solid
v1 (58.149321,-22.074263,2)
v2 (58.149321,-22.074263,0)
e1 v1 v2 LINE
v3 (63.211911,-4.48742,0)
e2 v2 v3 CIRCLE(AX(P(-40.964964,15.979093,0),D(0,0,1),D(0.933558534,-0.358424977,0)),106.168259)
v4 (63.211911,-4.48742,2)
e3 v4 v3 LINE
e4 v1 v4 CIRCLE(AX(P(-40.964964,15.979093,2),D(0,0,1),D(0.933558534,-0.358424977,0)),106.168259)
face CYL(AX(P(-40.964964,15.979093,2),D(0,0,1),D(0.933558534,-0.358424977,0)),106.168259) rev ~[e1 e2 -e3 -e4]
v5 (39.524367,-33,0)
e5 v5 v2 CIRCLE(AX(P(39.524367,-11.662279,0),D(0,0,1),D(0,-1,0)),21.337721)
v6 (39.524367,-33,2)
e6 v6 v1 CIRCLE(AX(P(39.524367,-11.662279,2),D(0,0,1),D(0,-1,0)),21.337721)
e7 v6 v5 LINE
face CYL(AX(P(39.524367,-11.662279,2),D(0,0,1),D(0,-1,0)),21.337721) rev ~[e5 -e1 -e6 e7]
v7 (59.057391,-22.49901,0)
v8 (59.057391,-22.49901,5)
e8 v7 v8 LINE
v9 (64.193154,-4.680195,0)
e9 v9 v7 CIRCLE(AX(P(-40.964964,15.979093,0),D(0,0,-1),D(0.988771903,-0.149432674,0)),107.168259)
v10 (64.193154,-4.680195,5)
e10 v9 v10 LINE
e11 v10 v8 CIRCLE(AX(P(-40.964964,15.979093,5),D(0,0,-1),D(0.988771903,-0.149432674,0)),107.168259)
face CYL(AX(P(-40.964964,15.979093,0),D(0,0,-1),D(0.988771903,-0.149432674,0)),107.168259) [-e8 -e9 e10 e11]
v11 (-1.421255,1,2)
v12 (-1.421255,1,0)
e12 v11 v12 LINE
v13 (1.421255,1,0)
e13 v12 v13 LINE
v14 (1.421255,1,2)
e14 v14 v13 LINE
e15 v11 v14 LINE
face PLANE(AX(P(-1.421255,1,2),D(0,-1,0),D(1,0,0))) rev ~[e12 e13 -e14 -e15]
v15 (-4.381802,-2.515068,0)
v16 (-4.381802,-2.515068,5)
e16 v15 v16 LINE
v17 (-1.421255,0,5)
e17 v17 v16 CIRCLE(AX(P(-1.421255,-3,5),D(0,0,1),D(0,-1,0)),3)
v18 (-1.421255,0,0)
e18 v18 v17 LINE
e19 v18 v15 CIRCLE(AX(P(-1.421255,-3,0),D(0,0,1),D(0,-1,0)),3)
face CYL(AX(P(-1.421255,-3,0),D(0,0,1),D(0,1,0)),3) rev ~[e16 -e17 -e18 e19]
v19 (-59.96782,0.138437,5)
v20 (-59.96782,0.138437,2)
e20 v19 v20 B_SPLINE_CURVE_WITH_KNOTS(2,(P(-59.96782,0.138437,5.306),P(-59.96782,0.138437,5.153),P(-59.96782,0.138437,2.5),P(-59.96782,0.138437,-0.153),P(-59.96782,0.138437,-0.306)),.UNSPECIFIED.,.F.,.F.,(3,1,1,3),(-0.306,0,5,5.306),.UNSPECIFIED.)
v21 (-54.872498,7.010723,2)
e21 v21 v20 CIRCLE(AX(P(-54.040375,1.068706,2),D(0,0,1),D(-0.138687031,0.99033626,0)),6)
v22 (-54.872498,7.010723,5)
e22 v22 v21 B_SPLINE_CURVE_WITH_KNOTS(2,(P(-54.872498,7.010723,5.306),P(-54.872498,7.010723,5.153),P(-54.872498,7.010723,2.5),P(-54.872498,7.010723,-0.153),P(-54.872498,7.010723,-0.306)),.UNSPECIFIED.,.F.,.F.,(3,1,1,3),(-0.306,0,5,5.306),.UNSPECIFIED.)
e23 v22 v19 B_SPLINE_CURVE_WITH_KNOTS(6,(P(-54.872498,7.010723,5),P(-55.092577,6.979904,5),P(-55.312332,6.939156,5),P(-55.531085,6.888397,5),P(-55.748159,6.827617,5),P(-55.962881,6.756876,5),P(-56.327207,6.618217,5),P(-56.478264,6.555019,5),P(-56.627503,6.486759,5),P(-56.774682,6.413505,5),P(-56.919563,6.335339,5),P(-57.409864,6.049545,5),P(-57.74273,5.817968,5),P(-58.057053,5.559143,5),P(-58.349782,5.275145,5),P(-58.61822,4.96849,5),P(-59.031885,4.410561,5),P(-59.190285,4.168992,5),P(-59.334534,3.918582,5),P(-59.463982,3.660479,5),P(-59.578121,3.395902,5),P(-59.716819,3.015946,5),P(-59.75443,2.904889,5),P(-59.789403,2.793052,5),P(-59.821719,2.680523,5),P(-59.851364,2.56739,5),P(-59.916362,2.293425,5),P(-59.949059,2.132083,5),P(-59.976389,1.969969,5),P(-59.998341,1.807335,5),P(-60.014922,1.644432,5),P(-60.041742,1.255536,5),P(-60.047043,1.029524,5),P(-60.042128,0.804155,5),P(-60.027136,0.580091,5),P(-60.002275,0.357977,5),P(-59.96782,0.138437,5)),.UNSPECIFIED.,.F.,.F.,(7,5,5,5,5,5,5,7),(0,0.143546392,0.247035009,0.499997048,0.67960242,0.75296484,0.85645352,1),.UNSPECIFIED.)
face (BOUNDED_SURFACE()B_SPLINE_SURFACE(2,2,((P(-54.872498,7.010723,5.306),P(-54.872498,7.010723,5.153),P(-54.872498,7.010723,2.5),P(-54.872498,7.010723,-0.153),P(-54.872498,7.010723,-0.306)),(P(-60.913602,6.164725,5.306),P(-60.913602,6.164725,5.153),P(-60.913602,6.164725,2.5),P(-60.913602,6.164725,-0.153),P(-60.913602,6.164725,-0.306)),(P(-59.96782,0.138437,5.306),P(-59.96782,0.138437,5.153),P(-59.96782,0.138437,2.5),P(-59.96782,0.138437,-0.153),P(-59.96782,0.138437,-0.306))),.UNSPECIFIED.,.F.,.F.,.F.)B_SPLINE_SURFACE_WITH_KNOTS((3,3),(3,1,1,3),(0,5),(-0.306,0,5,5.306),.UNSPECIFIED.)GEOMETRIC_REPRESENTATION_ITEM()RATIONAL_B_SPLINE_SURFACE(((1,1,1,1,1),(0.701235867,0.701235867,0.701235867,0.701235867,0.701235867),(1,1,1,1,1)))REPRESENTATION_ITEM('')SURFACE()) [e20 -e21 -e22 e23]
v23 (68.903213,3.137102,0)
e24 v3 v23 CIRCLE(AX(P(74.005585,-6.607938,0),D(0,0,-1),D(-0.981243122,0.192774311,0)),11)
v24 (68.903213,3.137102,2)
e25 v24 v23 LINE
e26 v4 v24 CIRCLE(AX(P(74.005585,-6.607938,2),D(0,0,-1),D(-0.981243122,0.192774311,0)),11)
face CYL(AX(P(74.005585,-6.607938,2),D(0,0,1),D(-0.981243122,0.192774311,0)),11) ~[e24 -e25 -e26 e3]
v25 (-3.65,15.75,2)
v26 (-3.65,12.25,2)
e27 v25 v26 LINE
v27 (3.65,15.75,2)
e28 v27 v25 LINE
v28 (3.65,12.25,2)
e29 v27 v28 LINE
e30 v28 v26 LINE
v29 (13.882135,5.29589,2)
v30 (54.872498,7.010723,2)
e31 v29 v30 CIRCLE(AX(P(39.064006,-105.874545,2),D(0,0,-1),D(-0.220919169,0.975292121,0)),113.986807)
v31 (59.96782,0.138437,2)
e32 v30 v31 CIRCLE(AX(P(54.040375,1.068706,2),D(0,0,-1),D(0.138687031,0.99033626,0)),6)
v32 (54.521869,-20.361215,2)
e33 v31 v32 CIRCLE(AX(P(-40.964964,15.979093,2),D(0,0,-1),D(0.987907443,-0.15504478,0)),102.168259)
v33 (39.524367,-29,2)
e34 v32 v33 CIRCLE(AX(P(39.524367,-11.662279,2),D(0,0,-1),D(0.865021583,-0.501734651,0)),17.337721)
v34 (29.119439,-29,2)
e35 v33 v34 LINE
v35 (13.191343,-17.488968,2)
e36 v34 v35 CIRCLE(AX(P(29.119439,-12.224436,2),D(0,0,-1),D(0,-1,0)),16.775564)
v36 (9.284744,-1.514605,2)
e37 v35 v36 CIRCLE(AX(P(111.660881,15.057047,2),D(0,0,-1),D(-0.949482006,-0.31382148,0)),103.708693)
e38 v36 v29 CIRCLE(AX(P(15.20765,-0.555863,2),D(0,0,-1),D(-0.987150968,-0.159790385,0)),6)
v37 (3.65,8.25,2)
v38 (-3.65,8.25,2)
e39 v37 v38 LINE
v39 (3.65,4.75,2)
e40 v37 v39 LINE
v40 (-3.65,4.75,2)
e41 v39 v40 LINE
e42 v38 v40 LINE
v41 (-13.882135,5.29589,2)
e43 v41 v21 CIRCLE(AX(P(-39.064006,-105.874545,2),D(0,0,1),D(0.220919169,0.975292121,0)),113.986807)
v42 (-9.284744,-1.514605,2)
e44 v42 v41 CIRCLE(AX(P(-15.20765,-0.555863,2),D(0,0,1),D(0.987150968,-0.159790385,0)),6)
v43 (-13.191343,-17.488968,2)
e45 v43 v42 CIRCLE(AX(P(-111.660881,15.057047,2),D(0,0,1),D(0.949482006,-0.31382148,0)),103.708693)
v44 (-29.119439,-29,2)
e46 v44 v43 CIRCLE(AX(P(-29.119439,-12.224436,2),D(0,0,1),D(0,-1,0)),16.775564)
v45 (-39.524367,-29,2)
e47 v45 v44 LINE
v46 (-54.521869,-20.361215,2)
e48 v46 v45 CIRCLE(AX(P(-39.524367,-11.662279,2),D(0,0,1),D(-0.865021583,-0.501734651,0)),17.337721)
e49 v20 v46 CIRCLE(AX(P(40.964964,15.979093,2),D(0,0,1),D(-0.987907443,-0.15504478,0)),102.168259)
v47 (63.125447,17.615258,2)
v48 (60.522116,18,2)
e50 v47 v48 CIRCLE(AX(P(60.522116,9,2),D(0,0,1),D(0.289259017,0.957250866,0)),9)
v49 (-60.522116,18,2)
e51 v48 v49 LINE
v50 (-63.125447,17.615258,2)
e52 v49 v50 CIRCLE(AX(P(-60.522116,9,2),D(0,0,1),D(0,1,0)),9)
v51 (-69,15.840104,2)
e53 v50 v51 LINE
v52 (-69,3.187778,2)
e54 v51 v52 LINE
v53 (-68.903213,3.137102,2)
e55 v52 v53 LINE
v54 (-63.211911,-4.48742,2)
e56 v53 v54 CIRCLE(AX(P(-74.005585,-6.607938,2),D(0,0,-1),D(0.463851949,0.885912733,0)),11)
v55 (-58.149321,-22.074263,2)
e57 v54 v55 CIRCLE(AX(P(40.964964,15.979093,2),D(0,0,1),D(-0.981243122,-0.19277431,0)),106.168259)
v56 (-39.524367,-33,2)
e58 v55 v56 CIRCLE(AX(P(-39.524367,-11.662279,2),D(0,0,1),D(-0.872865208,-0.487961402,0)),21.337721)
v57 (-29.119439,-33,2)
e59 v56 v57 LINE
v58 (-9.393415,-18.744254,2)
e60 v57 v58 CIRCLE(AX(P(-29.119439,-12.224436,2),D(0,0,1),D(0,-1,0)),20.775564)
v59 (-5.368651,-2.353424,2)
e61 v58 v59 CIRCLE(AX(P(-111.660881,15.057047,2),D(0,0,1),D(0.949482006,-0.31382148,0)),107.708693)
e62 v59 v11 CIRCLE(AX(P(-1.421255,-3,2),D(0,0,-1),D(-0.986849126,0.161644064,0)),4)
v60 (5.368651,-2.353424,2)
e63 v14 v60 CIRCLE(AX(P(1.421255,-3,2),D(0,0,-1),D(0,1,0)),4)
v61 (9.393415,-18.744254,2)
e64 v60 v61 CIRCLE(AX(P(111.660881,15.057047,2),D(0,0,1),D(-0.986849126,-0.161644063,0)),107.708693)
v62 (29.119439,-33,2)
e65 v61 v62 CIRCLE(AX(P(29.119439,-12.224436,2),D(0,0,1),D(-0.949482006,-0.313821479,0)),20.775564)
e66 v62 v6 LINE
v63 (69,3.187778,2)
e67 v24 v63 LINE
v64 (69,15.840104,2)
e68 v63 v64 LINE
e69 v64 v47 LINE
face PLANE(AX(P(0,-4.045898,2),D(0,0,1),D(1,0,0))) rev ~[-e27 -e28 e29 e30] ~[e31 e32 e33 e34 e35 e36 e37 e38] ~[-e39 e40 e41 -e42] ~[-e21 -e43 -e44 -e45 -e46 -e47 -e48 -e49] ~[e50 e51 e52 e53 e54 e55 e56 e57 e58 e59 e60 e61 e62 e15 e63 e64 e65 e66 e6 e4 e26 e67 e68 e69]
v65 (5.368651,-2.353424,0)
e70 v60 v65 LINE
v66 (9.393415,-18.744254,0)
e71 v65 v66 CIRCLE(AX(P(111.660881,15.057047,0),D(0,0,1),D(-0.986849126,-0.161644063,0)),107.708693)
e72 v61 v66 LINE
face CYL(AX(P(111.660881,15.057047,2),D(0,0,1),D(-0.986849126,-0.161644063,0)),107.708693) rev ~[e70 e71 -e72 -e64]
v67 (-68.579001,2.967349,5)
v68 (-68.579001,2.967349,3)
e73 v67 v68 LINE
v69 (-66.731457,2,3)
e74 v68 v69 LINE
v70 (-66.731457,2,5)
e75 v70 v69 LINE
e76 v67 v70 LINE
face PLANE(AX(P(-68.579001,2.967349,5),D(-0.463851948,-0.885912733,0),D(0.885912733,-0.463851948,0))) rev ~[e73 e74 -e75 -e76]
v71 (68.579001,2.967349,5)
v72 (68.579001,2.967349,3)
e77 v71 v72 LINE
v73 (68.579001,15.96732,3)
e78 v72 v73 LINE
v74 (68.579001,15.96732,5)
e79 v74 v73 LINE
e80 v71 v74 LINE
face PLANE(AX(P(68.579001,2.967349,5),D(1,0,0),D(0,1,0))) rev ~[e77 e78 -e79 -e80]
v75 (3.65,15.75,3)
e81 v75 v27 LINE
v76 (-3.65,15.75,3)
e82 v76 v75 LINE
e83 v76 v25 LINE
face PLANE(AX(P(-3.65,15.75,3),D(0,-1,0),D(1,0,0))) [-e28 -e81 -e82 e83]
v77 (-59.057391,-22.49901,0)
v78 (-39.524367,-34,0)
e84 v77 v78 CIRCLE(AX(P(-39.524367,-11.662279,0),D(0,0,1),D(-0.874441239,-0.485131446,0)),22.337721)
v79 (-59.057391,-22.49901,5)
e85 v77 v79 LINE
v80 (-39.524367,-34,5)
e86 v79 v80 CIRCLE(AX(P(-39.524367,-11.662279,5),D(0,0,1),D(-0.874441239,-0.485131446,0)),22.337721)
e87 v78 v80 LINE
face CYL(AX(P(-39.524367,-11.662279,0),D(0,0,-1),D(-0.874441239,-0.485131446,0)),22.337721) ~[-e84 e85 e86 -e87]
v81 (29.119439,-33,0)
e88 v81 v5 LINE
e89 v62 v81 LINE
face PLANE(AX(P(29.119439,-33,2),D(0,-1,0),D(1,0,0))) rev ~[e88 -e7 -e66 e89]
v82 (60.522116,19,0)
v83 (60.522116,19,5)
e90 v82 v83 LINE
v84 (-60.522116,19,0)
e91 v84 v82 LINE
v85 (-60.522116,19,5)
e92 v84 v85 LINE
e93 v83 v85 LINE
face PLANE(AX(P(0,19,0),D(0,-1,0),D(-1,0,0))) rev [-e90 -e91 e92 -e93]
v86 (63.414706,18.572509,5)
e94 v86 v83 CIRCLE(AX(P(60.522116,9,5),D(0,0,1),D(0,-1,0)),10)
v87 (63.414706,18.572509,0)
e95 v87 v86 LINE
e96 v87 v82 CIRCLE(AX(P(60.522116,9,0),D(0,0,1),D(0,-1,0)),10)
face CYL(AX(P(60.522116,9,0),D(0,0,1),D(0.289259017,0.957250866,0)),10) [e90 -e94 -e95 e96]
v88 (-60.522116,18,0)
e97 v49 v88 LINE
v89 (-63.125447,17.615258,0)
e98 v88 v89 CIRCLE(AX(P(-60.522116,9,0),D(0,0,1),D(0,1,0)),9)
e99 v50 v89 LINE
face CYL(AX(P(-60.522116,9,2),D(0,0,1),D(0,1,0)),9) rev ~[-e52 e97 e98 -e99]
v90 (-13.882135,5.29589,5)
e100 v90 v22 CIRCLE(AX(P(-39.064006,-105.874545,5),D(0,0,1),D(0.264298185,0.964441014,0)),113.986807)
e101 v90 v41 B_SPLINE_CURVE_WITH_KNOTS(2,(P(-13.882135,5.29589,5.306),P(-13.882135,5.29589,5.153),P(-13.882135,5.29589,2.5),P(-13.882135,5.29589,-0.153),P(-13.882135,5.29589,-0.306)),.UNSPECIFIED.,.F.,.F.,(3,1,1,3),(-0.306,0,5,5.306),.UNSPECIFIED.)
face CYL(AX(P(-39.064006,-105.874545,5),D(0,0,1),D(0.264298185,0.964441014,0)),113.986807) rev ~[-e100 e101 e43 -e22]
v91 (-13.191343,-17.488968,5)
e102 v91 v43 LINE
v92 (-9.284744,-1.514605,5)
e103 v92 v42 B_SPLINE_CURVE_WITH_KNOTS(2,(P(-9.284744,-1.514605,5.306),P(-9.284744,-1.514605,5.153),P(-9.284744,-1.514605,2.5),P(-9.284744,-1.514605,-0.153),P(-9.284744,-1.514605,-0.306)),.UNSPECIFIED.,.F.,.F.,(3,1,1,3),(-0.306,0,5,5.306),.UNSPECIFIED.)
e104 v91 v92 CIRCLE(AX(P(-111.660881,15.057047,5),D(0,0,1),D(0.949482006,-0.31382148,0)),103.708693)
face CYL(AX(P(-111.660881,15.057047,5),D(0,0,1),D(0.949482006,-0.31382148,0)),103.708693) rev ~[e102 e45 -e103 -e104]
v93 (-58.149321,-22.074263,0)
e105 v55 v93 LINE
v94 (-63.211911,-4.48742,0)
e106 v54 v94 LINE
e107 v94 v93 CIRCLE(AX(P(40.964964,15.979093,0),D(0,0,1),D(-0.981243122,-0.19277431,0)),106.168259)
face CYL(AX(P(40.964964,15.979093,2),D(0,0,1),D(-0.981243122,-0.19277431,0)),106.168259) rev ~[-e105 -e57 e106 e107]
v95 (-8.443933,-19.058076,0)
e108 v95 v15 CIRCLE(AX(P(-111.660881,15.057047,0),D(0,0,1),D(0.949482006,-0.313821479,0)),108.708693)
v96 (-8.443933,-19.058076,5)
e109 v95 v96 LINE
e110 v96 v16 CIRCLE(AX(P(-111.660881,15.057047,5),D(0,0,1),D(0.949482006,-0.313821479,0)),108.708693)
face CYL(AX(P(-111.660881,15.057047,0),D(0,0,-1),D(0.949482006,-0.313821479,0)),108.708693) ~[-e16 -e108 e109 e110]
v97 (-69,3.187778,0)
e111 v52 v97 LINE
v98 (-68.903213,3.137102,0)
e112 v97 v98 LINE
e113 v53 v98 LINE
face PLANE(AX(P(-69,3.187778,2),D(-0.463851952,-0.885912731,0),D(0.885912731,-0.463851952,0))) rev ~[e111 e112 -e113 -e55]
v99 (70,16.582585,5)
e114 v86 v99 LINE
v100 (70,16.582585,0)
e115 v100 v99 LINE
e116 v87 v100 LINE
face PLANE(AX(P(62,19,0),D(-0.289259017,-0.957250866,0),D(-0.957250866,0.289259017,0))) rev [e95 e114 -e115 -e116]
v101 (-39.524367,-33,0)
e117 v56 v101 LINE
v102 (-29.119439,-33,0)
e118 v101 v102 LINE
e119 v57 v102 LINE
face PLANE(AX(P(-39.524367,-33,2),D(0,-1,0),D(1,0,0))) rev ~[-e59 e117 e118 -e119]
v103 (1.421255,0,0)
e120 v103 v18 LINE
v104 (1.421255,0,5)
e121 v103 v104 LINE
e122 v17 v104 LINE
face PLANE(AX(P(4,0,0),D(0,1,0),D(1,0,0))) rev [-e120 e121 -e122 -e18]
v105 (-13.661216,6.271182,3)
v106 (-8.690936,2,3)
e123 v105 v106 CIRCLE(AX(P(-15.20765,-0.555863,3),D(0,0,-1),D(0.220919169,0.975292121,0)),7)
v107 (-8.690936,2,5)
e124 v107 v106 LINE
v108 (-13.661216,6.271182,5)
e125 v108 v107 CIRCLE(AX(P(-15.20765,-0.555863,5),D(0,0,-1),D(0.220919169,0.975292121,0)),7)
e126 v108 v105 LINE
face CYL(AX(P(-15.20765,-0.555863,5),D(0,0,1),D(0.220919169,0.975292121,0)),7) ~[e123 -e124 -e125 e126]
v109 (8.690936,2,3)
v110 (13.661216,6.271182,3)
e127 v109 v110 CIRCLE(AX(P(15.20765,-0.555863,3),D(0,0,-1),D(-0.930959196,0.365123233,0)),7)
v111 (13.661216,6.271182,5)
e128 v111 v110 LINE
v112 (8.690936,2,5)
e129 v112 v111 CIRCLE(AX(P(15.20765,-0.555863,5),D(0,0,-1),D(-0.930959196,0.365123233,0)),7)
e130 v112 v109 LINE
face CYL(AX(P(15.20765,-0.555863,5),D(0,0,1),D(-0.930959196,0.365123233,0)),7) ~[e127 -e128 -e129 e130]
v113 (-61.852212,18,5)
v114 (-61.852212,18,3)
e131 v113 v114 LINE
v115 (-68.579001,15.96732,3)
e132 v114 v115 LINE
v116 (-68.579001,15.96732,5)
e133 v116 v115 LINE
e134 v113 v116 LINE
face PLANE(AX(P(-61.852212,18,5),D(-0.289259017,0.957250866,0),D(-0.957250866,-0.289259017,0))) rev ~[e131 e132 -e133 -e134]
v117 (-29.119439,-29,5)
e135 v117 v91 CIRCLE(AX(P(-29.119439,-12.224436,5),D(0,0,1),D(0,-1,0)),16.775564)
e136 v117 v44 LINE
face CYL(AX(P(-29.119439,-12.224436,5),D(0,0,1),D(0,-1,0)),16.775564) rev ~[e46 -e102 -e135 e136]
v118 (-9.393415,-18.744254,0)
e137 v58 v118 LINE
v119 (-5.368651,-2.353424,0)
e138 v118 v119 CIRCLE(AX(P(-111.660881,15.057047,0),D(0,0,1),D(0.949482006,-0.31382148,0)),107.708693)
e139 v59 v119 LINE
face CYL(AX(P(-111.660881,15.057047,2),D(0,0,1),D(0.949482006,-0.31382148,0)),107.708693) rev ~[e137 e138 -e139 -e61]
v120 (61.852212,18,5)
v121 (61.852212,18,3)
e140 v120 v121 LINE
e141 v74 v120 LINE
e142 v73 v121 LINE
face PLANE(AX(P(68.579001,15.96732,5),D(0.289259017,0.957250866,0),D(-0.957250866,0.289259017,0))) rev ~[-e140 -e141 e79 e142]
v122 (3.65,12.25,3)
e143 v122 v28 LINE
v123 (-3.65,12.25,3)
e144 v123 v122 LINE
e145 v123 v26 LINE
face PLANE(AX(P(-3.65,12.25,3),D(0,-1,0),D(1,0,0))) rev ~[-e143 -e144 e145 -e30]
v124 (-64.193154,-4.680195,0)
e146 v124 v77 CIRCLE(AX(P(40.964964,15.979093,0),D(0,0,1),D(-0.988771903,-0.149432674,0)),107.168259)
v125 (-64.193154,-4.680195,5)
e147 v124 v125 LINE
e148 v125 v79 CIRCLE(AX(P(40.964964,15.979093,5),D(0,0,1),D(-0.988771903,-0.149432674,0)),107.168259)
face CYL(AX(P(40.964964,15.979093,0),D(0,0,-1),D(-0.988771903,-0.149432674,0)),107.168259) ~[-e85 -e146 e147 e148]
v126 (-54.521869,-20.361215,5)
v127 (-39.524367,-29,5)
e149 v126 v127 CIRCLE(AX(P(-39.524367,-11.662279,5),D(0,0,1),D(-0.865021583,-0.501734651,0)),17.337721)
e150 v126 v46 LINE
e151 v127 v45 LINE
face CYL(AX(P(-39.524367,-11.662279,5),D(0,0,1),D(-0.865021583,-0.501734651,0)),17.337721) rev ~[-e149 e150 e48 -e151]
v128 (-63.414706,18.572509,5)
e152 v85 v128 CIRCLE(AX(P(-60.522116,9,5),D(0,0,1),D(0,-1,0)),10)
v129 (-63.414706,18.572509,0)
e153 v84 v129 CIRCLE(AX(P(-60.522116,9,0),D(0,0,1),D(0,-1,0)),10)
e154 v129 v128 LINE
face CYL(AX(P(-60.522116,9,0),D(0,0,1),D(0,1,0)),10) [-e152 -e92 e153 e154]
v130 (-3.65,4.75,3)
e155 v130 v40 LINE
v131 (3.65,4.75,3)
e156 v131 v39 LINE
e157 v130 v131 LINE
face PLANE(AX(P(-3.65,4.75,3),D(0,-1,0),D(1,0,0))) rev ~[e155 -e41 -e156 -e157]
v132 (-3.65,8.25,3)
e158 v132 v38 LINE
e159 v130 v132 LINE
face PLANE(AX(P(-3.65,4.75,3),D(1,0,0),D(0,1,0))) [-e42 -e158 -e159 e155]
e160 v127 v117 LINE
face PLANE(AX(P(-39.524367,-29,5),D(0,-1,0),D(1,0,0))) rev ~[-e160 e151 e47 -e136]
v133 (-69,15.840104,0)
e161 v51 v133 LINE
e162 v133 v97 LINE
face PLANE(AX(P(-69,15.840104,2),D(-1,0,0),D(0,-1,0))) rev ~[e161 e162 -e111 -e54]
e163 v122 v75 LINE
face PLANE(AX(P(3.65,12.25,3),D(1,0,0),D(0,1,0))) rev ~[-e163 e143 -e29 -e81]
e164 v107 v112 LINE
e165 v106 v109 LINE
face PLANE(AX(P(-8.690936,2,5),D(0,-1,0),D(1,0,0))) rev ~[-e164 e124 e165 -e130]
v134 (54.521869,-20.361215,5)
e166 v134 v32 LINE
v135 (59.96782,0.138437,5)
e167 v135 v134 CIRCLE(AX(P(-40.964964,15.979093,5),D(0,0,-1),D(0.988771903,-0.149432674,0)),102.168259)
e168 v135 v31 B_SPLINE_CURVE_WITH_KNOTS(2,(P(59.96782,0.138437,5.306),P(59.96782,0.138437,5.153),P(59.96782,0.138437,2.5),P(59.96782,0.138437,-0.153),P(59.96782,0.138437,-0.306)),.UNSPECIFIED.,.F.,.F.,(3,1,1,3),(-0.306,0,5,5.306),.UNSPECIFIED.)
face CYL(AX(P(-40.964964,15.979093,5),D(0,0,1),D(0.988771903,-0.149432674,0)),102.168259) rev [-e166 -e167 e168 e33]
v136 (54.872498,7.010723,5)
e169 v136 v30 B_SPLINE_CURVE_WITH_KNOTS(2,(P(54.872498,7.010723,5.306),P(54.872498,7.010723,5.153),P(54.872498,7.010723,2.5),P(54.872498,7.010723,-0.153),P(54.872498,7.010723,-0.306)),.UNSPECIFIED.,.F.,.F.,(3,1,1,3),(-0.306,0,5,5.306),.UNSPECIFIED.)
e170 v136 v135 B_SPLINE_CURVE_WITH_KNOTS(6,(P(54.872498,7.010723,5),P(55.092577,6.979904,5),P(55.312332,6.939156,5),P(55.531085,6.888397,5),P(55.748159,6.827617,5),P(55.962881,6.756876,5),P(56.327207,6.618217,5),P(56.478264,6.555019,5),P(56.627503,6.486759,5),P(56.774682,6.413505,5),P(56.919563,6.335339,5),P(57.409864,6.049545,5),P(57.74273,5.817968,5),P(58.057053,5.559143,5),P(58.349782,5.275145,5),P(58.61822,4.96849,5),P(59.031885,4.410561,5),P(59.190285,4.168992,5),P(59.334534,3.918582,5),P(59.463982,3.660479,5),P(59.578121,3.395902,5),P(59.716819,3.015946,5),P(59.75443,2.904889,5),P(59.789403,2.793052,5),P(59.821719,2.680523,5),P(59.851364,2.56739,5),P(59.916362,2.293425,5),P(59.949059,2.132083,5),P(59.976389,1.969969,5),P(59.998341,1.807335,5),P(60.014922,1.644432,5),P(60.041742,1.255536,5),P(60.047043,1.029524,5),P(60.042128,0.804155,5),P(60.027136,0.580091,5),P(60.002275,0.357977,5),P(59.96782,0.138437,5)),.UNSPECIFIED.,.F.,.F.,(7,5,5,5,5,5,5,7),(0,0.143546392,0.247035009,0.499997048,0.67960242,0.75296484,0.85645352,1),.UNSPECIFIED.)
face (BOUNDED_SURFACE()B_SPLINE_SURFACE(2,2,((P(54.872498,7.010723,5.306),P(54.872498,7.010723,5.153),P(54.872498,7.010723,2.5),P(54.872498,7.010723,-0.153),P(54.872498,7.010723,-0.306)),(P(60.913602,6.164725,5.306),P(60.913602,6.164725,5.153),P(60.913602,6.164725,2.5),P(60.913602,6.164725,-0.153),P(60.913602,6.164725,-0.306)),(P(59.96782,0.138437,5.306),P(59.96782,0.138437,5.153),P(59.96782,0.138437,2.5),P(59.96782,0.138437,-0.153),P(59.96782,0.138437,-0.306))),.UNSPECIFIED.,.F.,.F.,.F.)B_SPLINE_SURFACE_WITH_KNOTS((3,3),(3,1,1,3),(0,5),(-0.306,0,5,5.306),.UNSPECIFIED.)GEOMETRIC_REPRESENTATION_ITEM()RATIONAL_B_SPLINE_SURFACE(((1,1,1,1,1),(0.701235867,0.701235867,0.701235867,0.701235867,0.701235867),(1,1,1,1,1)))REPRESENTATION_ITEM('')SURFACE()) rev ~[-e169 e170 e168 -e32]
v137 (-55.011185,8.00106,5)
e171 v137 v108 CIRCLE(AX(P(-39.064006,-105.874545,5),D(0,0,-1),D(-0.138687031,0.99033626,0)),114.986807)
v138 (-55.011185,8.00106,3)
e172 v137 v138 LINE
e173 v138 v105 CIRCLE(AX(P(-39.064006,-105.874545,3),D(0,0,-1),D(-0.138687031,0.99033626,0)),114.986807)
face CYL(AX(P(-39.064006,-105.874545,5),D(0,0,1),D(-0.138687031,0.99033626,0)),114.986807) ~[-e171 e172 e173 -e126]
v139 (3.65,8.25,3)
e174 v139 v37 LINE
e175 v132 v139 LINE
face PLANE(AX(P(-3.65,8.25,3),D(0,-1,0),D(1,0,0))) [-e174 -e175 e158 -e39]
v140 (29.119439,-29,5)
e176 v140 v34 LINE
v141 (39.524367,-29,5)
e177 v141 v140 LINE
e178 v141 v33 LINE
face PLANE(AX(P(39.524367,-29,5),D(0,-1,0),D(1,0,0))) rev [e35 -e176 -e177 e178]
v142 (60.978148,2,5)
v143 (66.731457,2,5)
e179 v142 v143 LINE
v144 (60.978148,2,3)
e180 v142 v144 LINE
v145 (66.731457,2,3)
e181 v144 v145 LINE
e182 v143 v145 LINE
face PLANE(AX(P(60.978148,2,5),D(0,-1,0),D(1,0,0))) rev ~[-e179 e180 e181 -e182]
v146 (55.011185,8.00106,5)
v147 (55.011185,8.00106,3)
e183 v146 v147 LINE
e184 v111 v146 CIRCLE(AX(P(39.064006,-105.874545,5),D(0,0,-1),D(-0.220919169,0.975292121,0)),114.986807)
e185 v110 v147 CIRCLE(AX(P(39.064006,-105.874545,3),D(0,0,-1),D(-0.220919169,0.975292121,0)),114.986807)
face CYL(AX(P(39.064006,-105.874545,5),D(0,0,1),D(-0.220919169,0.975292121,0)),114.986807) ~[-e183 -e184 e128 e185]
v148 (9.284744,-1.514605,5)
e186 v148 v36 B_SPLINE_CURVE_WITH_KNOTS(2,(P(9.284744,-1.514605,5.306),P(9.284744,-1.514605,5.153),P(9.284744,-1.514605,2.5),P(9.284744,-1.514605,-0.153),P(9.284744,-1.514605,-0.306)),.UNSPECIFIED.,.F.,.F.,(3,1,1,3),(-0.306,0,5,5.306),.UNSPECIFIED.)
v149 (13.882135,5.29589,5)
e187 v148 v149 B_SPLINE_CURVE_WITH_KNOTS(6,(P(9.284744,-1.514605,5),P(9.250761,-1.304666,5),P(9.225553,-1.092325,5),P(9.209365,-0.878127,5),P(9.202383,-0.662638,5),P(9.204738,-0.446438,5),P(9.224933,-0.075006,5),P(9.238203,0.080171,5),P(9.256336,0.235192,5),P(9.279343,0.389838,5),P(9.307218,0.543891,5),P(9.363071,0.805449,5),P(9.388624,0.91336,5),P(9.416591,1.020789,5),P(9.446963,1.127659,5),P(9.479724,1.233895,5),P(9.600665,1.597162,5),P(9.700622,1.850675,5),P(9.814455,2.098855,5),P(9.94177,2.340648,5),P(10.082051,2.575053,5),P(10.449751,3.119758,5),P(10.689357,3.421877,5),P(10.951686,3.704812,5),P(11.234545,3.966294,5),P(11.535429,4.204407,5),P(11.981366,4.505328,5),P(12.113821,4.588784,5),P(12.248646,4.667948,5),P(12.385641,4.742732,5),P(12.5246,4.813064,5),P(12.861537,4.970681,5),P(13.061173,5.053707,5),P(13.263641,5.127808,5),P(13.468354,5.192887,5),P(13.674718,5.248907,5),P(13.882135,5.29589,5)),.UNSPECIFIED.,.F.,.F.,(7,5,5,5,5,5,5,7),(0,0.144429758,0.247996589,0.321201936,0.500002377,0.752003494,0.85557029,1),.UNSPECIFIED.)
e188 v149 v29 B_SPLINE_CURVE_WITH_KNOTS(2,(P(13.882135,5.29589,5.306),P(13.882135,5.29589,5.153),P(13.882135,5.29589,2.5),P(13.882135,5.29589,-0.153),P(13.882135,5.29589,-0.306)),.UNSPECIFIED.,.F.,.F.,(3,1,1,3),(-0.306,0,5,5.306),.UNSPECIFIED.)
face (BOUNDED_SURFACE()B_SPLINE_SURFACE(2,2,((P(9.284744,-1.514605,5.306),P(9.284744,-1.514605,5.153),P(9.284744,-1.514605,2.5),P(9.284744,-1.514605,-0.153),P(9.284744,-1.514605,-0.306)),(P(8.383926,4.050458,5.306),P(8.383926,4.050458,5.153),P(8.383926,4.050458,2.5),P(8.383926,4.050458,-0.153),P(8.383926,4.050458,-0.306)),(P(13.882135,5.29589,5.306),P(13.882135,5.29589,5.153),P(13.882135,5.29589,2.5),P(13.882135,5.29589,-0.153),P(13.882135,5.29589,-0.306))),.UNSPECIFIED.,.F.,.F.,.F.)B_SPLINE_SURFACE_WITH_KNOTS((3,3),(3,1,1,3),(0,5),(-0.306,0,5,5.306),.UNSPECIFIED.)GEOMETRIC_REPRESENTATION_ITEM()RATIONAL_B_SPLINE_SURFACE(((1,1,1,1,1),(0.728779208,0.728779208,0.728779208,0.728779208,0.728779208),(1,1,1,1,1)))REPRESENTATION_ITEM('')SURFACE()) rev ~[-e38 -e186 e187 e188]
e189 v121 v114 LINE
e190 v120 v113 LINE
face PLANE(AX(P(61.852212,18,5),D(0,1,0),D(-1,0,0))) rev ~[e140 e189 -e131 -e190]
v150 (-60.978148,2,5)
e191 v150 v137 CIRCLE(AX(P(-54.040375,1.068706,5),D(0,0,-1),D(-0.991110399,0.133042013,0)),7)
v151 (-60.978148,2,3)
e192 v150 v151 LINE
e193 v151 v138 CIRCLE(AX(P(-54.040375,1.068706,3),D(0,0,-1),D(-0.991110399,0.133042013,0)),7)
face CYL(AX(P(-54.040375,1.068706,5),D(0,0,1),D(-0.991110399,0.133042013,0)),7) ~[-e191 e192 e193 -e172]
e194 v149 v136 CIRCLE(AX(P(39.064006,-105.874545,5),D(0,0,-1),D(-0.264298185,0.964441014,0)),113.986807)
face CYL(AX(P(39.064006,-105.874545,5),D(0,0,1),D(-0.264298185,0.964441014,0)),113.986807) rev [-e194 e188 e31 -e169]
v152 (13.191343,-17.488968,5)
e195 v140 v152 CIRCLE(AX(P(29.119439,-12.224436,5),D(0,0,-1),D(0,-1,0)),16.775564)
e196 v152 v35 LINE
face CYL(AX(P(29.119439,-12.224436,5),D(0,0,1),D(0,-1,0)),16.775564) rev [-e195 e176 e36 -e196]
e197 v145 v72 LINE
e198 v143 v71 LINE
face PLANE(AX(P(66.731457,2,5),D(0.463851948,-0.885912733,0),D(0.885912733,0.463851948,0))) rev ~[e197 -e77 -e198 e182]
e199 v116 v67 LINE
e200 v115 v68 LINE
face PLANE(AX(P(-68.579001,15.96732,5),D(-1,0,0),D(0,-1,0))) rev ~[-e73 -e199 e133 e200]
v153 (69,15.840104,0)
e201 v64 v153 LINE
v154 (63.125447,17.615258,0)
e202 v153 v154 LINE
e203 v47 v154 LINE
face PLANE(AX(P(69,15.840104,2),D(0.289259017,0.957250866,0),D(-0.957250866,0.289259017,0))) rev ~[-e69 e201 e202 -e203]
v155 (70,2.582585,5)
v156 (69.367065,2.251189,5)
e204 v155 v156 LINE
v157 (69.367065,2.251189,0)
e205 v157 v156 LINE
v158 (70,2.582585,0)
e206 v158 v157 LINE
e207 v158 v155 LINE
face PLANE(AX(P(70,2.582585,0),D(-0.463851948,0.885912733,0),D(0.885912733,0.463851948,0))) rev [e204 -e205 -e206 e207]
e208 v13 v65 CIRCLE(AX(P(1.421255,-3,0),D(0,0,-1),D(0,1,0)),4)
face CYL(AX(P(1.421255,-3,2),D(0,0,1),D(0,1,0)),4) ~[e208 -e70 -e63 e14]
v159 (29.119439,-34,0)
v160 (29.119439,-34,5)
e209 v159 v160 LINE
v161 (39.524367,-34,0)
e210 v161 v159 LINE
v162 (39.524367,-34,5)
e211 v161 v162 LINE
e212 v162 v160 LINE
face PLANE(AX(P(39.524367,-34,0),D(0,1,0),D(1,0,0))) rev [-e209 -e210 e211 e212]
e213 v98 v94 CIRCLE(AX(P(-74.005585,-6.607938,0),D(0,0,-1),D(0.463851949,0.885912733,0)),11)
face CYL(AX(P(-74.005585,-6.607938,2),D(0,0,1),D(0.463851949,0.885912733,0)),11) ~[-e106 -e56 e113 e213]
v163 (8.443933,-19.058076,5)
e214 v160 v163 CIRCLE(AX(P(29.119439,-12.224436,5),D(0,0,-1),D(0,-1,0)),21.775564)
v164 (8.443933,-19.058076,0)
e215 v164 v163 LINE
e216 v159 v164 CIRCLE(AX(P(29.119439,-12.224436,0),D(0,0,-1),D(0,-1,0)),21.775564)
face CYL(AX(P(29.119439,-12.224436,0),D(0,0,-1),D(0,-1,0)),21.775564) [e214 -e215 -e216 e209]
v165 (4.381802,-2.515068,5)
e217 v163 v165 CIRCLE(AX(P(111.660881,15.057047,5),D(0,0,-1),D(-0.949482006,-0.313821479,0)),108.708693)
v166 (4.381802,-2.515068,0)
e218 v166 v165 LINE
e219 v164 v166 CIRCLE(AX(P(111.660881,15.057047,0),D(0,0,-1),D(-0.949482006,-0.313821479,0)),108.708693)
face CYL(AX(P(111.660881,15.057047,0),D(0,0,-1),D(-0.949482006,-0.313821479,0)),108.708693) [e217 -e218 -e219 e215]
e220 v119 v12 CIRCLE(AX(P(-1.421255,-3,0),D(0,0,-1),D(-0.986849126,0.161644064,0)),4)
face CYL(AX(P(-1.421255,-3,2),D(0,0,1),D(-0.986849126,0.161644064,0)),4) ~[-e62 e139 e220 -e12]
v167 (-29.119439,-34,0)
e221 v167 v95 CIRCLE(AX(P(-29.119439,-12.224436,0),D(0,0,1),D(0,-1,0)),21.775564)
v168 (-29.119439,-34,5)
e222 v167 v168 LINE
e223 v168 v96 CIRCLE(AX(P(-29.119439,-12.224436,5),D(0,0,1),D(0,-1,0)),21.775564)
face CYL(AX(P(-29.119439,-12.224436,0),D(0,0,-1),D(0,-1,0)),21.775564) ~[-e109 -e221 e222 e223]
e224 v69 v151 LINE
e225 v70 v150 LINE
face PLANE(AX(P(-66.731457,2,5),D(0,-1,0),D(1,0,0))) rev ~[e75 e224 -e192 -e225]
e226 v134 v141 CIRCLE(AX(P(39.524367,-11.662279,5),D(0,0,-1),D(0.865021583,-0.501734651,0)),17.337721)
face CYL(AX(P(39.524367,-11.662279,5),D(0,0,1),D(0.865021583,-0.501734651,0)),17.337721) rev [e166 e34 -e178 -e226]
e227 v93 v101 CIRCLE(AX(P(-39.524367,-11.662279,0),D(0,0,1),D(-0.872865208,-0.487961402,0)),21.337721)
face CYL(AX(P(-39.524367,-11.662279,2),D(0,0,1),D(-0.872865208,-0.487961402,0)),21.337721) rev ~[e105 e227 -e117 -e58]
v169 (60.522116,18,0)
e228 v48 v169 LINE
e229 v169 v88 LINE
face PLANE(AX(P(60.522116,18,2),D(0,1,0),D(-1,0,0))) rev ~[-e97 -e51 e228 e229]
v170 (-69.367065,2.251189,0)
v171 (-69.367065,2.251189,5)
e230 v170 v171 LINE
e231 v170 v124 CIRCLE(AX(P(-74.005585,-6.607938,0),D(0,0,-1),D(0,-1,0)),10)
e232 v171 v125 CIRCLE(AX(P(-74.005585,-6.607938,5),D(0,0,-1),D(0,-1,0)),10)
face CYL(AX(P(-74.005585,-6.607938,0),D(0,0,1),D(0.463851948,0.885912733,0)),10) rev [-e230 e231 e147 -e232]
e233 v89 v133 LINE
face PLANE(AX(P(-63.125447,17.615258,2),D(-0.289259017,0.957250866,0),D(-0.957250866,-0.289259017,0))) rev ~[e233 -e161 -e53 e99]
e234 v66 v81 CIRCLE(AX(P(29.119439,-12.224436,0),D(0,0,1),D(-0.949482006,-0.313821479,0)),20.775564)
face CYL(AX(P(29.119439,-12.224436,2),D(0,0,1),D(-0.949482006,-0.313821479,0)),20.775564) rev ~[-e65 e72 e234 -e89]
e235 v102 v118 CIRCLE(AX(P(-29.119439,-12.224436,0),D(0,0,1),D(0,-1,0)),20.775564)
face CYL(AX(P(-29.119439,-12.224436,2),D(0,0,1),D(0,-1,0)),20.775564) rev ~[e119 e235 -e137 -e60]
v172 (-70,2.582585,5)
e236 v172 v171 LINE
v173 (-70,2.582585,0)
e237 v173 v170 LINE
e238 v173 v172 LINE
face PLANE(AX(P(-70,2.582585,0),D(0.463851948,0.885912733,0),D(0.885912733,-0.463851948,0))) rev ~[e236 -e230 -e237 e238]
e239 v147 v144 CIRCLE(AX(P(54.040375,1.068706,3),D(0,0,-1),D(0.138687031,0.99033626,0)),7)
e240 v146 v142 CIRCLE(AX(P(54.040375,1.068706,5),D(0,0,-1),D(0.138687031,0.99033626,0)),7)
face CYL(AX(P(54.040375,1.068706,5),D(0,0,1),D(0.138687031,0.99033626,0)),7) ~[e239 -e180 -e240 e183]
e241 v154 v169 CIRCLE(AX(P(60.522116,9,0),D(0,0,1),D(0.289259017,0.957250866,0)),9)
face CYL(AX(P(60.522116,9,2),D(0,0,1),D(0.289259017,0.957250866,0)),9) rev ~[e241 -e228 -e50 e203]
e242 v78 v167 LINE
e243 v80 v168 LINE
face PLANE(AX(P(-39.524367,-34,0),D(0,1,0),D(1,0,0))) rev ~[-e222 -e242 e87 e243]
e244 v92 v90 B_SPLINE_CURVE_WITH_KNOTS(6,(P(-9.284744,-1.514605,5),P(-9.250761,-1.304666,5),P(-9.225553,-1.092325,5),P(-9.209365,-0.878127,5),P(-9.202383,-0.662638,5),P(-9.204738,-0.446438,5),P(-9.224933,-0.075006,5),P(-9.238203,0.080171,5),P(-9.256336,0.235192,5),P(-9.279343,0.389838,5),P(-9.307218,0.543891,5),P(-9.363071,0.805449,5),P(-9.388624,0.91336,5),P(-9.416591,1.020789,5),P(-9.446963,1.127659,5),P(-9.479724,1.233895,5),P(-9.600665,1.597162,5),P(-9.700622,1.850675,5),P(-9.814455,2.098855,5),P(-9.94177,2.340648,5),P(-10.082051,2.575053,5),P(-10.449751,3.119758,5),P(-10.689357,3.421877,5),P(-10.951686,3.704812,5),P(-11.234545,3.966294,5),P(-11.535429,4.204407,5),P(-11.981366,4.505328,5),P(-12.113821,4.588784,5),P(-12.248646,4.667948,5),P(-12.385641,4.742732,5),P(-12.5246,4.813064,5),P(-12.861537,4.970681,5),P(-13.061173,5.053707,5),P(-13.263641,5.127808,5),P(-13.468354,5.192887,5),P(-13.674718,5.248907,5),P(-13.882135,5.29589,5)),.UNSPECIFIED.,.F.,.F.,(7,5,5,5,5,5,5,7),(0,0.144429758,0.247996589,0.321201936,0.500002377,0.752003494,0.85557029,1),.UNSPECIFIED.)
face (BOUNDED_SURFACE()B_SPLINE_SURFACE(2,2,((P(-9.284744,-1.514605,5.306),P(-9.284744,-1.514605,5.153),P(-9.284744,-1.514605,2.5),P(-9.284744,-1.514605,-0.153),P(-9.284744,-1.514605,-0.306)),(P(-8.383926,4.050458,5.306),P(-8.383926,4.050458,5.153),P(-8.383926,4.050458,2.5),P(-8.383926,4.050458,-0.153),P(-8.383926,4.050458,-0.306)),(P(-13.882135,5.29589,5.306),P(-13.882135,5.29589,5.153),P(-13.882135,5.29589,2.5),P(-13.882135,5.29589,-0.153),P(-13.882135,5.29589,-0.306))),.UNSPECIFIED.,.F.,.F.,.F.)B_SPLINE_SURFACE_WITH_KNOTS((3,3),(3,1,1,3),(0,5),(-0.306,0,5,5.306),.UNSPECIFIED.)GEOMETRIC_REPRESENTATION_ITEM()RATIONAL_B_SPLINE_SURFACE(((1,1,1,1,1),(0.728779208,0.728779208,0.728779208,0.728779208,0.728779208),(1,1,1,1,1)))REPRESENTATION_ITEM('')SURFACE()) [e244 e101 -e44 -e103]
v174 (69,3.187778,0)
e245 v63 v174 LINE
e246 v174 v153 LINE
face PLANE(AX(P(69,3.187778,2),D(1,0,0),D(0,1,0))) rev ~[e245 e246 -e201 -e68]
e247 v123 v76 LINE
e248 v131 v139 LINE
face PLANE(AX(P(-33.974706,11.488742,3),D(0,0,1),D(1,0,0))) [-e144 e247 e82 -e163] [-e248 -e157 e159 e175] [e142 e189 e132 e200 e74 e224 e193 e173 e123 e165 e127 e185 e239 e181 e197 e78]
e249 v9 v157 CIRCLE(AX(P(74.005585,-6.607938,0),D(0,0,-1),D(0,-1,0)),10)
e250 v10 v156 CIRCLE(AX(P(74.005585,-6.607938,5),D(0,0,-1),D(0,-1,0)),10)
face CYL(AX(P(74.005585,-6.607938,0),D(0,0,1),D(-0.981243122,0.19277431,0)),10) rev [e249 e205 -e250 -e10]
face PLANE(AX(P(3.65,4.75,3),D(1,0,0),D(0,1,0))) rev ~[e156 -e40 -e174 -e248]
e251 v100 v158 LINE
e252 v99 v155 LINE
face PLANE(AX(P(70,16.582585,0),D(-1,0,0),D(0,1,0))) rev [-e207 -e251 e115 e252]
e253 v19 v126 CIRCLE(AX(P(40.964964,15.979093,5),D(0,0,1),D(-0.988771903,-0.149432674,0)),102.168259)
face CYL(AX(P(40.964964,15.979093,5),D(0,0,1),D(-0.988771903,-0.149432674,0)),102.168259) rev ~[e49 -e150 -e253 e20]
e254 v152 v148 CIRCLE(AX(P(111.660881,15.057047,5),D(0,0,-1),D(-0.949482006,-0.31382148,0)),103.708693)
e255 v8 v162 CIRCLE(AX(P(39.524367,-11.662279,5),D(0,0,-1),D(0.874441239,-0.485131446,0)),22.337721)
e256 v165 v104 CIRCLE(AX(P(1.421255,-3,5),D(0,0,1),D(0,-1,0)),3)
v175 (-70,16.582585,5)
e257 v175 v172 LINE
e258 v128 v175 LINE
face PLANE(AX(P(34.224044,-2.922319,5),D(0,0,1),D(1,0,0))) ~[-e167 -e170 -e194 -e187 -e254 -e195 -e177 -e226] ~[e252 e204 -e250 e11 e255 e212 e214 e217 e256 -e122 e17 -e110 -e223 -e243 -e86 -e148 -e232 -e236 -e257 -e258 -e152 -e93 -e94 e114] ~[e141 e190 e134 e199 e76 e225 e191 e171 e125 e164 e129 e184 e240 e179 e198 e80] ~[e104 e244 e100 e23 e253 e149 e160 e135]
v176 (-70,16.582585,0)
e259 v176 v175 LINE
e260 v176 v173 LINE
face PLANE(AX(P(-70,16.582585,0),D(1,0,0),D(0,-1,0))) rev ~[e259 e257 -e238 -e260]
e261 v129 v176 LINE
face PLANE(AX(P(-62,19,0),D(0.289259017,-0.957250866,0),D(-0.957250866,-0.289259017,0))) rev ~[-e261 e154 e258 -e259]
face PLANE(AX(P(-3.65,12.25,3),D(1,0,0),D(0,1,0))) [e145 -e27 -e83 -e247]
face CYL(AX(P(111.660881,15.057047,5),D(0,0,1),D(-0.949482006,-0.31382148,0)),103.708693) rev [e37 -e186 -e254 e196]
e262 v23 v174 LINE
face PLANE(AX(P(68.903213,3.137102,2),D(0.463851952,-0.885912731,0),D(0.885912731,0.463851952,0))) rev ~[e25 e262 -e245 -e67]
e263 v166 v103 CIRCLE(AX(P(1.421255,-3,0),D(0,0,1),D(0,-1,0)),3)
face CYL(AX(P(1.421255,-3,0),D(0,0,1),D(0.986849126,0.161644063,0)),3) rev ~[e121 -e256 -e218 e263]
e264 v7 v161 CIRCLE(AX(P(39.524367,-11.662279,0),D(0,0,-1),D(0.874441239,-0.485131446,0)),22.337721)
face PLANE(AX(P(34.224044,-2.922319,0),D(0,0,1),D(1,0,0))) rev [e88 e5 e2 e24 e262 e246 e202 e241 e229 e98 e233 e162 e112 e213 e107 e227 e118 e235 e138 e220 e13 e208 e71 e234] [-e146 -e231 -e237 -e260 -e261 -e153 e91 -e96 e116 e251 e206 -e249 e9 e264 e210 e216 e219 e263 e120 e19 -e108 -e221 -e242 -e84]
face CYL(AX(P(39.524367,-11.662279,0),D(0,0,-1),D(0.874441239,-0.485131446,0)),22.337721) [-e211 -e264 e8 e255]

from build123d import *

# Parameters (mm, degrees)
BOSS_EXTRUDE1_DEPTH  = 5
CUT_EXTRUDE1_DEPTH   = 78.98076686
FILLET1_R            = 6
FILLET4_R            = 3
FILLET5_R            = 10
FILLET1_OF_MIRROR2_R = 6
FILLET4_OF_MIRROR2_R = 3
FILLET5_OF_MIRROR2_R = 10
CUT_EXTRUDE2_DEPTH   = 2
SKETCH4_W            = 7.3
SKETCH4_H            = 3.5
CUT_EXTRUDE3_DEPTH   = 78.878110027
CUT_EXTRUDE4_START   = -1
CUT_EXTRUDE4_DEPTH   = 2


with BuildPart() as part:
    # Sketch1 → Boss-Extrude1 (new body)
    with BuildSketch(Plane.XY):
        with BuildLine():
            Line((-70, 16.58258549), (-70, 2.58258549))
            Line((-70, 2.58258549), (-65, -0.035347018))
            ThreePointArc((-65, -0.035347018), (-62.639321295, -11.428715409), (-59.057390955, -22.499009997))
            ThreePointArc((-59.057390955, -22.499009997), (-50.858075368, -30.911196539), (-39.524366721, -34))
            Line((-39.524366721, -34), (-29.119439011, -34))
            ThreePointArc((-29.119439011, -34), (-16.364659062, -29.873537236), (-8.443933007, -19.058075838))
            ThreePointArc((-8.443933007, -19.058075838), (-5.792248942, -9.629238804), (-4, 0))
            Line((-4, 0), (0, 0))
            Line((0, 0), (0, 19))
            Line((0, 19), (-62, 19))
            Line((-62, 19), (-70, 16.58258549))
        make_face()
    boss_extrude1 = extrude(amount=BOSS_EXTRUDE1_DEPTH)

    # Sketch2 → Cut-Extrude1 (cut, through all)
    with BuildSketch(Plane.XY.offset(5)):
        with BuildLine():
            Line((-39.524366721, -29), (-29.119439011, -29))
            ThreePointArc((-29.119439011, -29), (-19.293350153, -25.821035725), (-13.191343035, -17.488968441))
            ThreePointArc((-13.191343035, -17.488968441), (-10.661621804, -8.493805879), (-8.951806424, 0.692541077))
            ThreePointArc((-8.951806424, 0.692541077), (-8.83111114, 2.375291538), (-8.93749946, 4.05900707))
            ThreePointArc((-8.93749946, 4.05900707), (-33.987475013, 7.999161751), (-59.288689209, 6.303681198))
            ThreePointArc((-59.288689209, 6.303681198), (-60.075532666, 3.563074376), (-60.056140486, 0.711816353))
            ThreePointArc((-60.056140486, 0.711816353), (-57.852345066, -9.972645379), (-54.521869403, -20.361214511))
            ThreePointArc((-54.521869403, -20.361214511), (-48.178176596, -26.685865227), (-39.524366721, -29))
        make_face()
    cut_extrude1 = extrude(amount=-CUT_EXTRUDE1_DEPTH, mode=Mode.SUBTRACT)

    # Fillet1
    fillet1_edges = [part.edges().sort_by_distance(p)[0] for p in [
        (-8.93749946, 4.05900707, 2.5),
        (-59.288689209, 6.303681198, 2.5),
    ]]
    fillet(fillet1_edges, radius=FILLET1_R)

    # Fillet4
    fillet4_edges = [part.edges().sort_by_distance(p)[0] for p in [
        (-4, 0, 2.5),
    ]]
    fillet(fillet4_edges, radius=FILLET4_R)

    # Fillet5
    fillet5_edges = [part.edges().sort_by_distance(p)[0] for p in [
        (-65, -0.035347018, 2.5),
        (-62, 19, 2.5),
    ]]
    fillet(fillet5_edges, radius=FILLET5_R)

    # Mirror2: Boss-Extrude1, Cut-Extrude1 across plane
    add(boss_extrude1.mirror(Plane(origin=(0, 19, 5), x_dir=(0, 0, 1), z_dir=(1, 0, 0))))
    add(cut_extrude1.mirror(Plane(origin=(0, 19, 5), x_dir=(0, 0, 1), z_dir=(1, 0, 0))), mode=Mode.SUBTRACT)

    # Fillet1 of Mirror2
    fillet1_of_mirror2_edges = [part.edges().sort_by_distance(p)[0] for p in [
        (8.93749946, 4.05900707, 2.5),
        (59.288689209, 6.303681198, 2.5),
    ]]
    fillet(fillet1_of_mirror2_edges, radius=FILLET1_OF_MIRROR2_R)

    # Fillet4 of Mirror2
    fillet4_of_mirror2_edges = [part.edges().sort_by_distance(p)[0] for p in [
        (4, 0, 2.5),
    ]]
    fillet(fillet4_of_mirror2_edges, radius=FILLET4_OF_MIRROR2_R)

    # Fillet5 of Mirror2
    fillet5_of_mirror2_edges = [part.edges().sort_by_distance(p)[0] for p in [
        (65, -0.035347018, 2.5),
        (62, 19, 2.5),
    ]]
    fillet(fillet5_of_mirror2_edges, radius=FILLET5_OF_MIRROR2_R)

    # Sketch3 → Cut-Extrude2 (cut)
    with BuildSketch(Plane.XY.offset(5)):
        with BuildLine():
            Line((-61.852211578, 18), (-68.579000582, 15.967320332))
            Line((-68.579000582, 15.967320332), (-68.579000582, 2.967348727))
            Line((-68.579000582, 2.967348727), (-66.731457293, 2))
            Line((-66.731457293, 2), (-60.978148267, 2))
            ThreePointArc((-60.978148267, 2), (-59.004204322, 6.004331826), (-55.011184694, 8.001059729))
            ThreePointArc((-55.011184694, 8.001059729), (-34.257732376, 9.011771002), (-13.66121584, 6.271182212))
            ThreePointArc((-13.66121584, 6.271182212), (-10.64537641, 4.753154175), (-8.690935653, 2))
            Line((-8.690935653, 2), (-4.382114171, 2))
            Line((-4.382114171, 2), (0, 2))
            Line((0, 2), (0, 18))
            Line((0, 18), (-61.852211578, 18))
        make_face()
        with BuildLine():
            Line((61.852211578, 18), (0, 18))
            Line((0, 18), (0, 2))
            Line((0, 2), (4.382114171, 2))
            Line((4.382114171, 2), (8.690935653, 2))
            ThreePointArc((8.690935653, 2), (10.64537641, 4.753154175), (13.66121584, 6.271182212))
            ThreePointArc((13.66121584, 6.271182212), (34.257732376, 9.011771002), (55.011184694, 8.001059729))
            ThreePointArc((55.011184694, 8.001059729), (59.004204322, 6.004331826), (60.978148267, 2))
            Line((60.978148267, 2), (66.731457293, 2))
            Line((66.731457293, 2), (68.579000582, 2.967348727))
            Line((68.579000582, 2.967348727), (68.579000582, 15.967320332))
            Line((68.579000582, 15.967320332), (61.852211578, 18))
        make_face()
    extrude(amount=-CUT_EXTRUDE2_DEPTH, mode=Mode.SUBTRACT)

    # Sketch4 → Cut-Extrude3 (cut, through all)
    with BuildSketch(Plane.XY.offset(3)):
        with Locations((0, 14)):
            Rectangle(SKETCH4_W, SKETCH4_H)
        with Locations((0, 6.5)):
            Rectangle(SKETCH4_W, SKETCH4_H)
    extrude(amount=-CUT_EXTRUDE3_DEPTH, mode=Mode.SUBTRACT)

    # Sketch6 → Cut-Extrude4 (cut)
    with BuildSketch(Plane.XY.offset(3).offset(CUT_EXTRUDE4_START)):
        with BuildLine():
            Line((69, 15.840104069), (63.125446932, 17.615257798))
            ThreePointArc((63.125446932, 17.615257798), (61.837919684, 17.903294901), (60.522115781, 18))
            Line((60.522115781, 18), (-60.522115781, 18))
            ThreePointArc((-60.522115781, 18), (-61.837919684, 17.903294901), (-63.125446932, 17.615257798))
            Line((-63.125446932, 17.615257798), (-69, 15.840104069))
            Line((-69, 15.840104069), (-69, 3.18777834))
            Line((-69, 3.18777834), (-68.903213495, 3.137102232))
            ThreePointArc((-68.903213495, 3.137102232), (-65.190574761, -0.027998941), (-63.211910581, -4.487420414))
            ThreePointArc((-63.211910581, -4.487420414), (-61.060268821, -13.390129723), (-58.149320801, -22.074263356))
            ThreePointArc((-58.149320801, -22.074263356), (-50.3209013, -30.066984302), (-39.524366721, -33))
            Line((-39.524366721, -33), (-29.119439011, -33))
            ThreePointArc((-29.119439011, -33), (-16.95039728, -29.063036934), (-9.393415013, -18.744254359))
            ThreePointArc((-9.393415013, -18.744254359), (-7.059487639, -10.627794467), (-5.368651351, -2.353423746))
            ThreePointArc((-5.368651351, -2.353423746), (-4.01101304, 0.048467239), (-1.421254848, 1))
            Line((-1.421254848, 1), (1.421254848, 1))
            ThreePointArc((1.421254848, 1), (4.01101304, 0.048467239), (5.368651351, -2.353423746))
            ThreePointArc((5.368651351, -2.353423746), (7.059487639, -10.627794467), (9.393415013, -18.744254359))
            ThreePointArc((9.393415013, -18.744254359), (16.95039728, -29.063036934), (29.119439011, -33))
            Line((29.119439011, -33), (39.524366721, -33))
            ThreePointArc((39.524366721, -33), (50.3209013, -30.066984302), (58.149320801, -22.074263356))
            ThreePointArc((58.149320801, -22.074263356), (61.060268821, -13.390129723), (63.211910581, -4.487420414))
            ThreePointArc((63.211910581, -4.487420414), (65.190574761, -0.027998941), (68.903213495, 3.137102232))
            Line((68.903213495, 3.137102232), (69, 3.18777834))
            Line((69, 3.18777834), (69, 15.840104069))
        make_face()
        with BuildLine():
            Line((39.524366721, -29), (29.119439011, -29))
            ThreePointArc((29.119439011, -29), (19.293350153, -25.821035725), (13.191343035, -17.488968441))
            ThreePointArc((13.191343035, -17.488968441), (10.920912078, -9.579342567), (9.284744219, -1.514604944))
            ThreePointArc((9.284744219, -1.514604944), (10.234661813, 2.801128318), (13.882135009, 5.295890091))
            ThreePointArc((13.882135009, 5.295890091), (34.299530853, 8.01264494), (54.872497662, 7.010723469))
            ThreePointArc((54.872497662, 7.010723469), (58.860128117, 4.642217415), (59.967820133, 0.138437228))
            ThreePointArc((59.967820133, 0.138437228), (57.77826599, -10.253097668), (54.521869403, -20.361214511))
            ThreePointArc((54.521869403, -20.361214511), (48.178176596, -26.685865227), (39.524366721, -29))
        make_face(mode=Mode.SUBTRACT)
        with BuildLine():
            Line((-39.524366721, -29), (-29.119439011, -29))
            ThreePointArc((-29.119439011, -29), (-19.293350153, -25.821035725), (-13.191343035, -17.488968441))
            ThreePointArc((-13.191343035, -17.488968441), (-10.920912078, -9.579342567), (-9.284744219, -1.514604944))
            ThreePointArc((-9.284744219, -1.514604944), (-10.234661813, 2.801128318), (-13.882135009, 5.295890091))
            ThreePointArc((-13.882135009, 5.295890091), (-34.299530853, 8.01264494), (-54.872497662, 7.010723469))
            ThreePointArc((-54.872497662, 7.010723469), (-58.860128117, 4.642217415), (-59.967820133, 0.138437228))
            ThreePointArc((-59.967820133, 0.138437228), (-57.77826599, -10.253097668), (-54.521869403, -20.361214511))
            ThreePointArc((-54.521869403, -20.361214511), (-48.178176596, -26.685865227), (-39.524366721, -29))
        make_face(mode=Mode.SUBTRACT)
    extrude(amount=-CUT_EXTRUDE4_DEPTH, mode=Mode.SUBTRACT)


solid = part.part
